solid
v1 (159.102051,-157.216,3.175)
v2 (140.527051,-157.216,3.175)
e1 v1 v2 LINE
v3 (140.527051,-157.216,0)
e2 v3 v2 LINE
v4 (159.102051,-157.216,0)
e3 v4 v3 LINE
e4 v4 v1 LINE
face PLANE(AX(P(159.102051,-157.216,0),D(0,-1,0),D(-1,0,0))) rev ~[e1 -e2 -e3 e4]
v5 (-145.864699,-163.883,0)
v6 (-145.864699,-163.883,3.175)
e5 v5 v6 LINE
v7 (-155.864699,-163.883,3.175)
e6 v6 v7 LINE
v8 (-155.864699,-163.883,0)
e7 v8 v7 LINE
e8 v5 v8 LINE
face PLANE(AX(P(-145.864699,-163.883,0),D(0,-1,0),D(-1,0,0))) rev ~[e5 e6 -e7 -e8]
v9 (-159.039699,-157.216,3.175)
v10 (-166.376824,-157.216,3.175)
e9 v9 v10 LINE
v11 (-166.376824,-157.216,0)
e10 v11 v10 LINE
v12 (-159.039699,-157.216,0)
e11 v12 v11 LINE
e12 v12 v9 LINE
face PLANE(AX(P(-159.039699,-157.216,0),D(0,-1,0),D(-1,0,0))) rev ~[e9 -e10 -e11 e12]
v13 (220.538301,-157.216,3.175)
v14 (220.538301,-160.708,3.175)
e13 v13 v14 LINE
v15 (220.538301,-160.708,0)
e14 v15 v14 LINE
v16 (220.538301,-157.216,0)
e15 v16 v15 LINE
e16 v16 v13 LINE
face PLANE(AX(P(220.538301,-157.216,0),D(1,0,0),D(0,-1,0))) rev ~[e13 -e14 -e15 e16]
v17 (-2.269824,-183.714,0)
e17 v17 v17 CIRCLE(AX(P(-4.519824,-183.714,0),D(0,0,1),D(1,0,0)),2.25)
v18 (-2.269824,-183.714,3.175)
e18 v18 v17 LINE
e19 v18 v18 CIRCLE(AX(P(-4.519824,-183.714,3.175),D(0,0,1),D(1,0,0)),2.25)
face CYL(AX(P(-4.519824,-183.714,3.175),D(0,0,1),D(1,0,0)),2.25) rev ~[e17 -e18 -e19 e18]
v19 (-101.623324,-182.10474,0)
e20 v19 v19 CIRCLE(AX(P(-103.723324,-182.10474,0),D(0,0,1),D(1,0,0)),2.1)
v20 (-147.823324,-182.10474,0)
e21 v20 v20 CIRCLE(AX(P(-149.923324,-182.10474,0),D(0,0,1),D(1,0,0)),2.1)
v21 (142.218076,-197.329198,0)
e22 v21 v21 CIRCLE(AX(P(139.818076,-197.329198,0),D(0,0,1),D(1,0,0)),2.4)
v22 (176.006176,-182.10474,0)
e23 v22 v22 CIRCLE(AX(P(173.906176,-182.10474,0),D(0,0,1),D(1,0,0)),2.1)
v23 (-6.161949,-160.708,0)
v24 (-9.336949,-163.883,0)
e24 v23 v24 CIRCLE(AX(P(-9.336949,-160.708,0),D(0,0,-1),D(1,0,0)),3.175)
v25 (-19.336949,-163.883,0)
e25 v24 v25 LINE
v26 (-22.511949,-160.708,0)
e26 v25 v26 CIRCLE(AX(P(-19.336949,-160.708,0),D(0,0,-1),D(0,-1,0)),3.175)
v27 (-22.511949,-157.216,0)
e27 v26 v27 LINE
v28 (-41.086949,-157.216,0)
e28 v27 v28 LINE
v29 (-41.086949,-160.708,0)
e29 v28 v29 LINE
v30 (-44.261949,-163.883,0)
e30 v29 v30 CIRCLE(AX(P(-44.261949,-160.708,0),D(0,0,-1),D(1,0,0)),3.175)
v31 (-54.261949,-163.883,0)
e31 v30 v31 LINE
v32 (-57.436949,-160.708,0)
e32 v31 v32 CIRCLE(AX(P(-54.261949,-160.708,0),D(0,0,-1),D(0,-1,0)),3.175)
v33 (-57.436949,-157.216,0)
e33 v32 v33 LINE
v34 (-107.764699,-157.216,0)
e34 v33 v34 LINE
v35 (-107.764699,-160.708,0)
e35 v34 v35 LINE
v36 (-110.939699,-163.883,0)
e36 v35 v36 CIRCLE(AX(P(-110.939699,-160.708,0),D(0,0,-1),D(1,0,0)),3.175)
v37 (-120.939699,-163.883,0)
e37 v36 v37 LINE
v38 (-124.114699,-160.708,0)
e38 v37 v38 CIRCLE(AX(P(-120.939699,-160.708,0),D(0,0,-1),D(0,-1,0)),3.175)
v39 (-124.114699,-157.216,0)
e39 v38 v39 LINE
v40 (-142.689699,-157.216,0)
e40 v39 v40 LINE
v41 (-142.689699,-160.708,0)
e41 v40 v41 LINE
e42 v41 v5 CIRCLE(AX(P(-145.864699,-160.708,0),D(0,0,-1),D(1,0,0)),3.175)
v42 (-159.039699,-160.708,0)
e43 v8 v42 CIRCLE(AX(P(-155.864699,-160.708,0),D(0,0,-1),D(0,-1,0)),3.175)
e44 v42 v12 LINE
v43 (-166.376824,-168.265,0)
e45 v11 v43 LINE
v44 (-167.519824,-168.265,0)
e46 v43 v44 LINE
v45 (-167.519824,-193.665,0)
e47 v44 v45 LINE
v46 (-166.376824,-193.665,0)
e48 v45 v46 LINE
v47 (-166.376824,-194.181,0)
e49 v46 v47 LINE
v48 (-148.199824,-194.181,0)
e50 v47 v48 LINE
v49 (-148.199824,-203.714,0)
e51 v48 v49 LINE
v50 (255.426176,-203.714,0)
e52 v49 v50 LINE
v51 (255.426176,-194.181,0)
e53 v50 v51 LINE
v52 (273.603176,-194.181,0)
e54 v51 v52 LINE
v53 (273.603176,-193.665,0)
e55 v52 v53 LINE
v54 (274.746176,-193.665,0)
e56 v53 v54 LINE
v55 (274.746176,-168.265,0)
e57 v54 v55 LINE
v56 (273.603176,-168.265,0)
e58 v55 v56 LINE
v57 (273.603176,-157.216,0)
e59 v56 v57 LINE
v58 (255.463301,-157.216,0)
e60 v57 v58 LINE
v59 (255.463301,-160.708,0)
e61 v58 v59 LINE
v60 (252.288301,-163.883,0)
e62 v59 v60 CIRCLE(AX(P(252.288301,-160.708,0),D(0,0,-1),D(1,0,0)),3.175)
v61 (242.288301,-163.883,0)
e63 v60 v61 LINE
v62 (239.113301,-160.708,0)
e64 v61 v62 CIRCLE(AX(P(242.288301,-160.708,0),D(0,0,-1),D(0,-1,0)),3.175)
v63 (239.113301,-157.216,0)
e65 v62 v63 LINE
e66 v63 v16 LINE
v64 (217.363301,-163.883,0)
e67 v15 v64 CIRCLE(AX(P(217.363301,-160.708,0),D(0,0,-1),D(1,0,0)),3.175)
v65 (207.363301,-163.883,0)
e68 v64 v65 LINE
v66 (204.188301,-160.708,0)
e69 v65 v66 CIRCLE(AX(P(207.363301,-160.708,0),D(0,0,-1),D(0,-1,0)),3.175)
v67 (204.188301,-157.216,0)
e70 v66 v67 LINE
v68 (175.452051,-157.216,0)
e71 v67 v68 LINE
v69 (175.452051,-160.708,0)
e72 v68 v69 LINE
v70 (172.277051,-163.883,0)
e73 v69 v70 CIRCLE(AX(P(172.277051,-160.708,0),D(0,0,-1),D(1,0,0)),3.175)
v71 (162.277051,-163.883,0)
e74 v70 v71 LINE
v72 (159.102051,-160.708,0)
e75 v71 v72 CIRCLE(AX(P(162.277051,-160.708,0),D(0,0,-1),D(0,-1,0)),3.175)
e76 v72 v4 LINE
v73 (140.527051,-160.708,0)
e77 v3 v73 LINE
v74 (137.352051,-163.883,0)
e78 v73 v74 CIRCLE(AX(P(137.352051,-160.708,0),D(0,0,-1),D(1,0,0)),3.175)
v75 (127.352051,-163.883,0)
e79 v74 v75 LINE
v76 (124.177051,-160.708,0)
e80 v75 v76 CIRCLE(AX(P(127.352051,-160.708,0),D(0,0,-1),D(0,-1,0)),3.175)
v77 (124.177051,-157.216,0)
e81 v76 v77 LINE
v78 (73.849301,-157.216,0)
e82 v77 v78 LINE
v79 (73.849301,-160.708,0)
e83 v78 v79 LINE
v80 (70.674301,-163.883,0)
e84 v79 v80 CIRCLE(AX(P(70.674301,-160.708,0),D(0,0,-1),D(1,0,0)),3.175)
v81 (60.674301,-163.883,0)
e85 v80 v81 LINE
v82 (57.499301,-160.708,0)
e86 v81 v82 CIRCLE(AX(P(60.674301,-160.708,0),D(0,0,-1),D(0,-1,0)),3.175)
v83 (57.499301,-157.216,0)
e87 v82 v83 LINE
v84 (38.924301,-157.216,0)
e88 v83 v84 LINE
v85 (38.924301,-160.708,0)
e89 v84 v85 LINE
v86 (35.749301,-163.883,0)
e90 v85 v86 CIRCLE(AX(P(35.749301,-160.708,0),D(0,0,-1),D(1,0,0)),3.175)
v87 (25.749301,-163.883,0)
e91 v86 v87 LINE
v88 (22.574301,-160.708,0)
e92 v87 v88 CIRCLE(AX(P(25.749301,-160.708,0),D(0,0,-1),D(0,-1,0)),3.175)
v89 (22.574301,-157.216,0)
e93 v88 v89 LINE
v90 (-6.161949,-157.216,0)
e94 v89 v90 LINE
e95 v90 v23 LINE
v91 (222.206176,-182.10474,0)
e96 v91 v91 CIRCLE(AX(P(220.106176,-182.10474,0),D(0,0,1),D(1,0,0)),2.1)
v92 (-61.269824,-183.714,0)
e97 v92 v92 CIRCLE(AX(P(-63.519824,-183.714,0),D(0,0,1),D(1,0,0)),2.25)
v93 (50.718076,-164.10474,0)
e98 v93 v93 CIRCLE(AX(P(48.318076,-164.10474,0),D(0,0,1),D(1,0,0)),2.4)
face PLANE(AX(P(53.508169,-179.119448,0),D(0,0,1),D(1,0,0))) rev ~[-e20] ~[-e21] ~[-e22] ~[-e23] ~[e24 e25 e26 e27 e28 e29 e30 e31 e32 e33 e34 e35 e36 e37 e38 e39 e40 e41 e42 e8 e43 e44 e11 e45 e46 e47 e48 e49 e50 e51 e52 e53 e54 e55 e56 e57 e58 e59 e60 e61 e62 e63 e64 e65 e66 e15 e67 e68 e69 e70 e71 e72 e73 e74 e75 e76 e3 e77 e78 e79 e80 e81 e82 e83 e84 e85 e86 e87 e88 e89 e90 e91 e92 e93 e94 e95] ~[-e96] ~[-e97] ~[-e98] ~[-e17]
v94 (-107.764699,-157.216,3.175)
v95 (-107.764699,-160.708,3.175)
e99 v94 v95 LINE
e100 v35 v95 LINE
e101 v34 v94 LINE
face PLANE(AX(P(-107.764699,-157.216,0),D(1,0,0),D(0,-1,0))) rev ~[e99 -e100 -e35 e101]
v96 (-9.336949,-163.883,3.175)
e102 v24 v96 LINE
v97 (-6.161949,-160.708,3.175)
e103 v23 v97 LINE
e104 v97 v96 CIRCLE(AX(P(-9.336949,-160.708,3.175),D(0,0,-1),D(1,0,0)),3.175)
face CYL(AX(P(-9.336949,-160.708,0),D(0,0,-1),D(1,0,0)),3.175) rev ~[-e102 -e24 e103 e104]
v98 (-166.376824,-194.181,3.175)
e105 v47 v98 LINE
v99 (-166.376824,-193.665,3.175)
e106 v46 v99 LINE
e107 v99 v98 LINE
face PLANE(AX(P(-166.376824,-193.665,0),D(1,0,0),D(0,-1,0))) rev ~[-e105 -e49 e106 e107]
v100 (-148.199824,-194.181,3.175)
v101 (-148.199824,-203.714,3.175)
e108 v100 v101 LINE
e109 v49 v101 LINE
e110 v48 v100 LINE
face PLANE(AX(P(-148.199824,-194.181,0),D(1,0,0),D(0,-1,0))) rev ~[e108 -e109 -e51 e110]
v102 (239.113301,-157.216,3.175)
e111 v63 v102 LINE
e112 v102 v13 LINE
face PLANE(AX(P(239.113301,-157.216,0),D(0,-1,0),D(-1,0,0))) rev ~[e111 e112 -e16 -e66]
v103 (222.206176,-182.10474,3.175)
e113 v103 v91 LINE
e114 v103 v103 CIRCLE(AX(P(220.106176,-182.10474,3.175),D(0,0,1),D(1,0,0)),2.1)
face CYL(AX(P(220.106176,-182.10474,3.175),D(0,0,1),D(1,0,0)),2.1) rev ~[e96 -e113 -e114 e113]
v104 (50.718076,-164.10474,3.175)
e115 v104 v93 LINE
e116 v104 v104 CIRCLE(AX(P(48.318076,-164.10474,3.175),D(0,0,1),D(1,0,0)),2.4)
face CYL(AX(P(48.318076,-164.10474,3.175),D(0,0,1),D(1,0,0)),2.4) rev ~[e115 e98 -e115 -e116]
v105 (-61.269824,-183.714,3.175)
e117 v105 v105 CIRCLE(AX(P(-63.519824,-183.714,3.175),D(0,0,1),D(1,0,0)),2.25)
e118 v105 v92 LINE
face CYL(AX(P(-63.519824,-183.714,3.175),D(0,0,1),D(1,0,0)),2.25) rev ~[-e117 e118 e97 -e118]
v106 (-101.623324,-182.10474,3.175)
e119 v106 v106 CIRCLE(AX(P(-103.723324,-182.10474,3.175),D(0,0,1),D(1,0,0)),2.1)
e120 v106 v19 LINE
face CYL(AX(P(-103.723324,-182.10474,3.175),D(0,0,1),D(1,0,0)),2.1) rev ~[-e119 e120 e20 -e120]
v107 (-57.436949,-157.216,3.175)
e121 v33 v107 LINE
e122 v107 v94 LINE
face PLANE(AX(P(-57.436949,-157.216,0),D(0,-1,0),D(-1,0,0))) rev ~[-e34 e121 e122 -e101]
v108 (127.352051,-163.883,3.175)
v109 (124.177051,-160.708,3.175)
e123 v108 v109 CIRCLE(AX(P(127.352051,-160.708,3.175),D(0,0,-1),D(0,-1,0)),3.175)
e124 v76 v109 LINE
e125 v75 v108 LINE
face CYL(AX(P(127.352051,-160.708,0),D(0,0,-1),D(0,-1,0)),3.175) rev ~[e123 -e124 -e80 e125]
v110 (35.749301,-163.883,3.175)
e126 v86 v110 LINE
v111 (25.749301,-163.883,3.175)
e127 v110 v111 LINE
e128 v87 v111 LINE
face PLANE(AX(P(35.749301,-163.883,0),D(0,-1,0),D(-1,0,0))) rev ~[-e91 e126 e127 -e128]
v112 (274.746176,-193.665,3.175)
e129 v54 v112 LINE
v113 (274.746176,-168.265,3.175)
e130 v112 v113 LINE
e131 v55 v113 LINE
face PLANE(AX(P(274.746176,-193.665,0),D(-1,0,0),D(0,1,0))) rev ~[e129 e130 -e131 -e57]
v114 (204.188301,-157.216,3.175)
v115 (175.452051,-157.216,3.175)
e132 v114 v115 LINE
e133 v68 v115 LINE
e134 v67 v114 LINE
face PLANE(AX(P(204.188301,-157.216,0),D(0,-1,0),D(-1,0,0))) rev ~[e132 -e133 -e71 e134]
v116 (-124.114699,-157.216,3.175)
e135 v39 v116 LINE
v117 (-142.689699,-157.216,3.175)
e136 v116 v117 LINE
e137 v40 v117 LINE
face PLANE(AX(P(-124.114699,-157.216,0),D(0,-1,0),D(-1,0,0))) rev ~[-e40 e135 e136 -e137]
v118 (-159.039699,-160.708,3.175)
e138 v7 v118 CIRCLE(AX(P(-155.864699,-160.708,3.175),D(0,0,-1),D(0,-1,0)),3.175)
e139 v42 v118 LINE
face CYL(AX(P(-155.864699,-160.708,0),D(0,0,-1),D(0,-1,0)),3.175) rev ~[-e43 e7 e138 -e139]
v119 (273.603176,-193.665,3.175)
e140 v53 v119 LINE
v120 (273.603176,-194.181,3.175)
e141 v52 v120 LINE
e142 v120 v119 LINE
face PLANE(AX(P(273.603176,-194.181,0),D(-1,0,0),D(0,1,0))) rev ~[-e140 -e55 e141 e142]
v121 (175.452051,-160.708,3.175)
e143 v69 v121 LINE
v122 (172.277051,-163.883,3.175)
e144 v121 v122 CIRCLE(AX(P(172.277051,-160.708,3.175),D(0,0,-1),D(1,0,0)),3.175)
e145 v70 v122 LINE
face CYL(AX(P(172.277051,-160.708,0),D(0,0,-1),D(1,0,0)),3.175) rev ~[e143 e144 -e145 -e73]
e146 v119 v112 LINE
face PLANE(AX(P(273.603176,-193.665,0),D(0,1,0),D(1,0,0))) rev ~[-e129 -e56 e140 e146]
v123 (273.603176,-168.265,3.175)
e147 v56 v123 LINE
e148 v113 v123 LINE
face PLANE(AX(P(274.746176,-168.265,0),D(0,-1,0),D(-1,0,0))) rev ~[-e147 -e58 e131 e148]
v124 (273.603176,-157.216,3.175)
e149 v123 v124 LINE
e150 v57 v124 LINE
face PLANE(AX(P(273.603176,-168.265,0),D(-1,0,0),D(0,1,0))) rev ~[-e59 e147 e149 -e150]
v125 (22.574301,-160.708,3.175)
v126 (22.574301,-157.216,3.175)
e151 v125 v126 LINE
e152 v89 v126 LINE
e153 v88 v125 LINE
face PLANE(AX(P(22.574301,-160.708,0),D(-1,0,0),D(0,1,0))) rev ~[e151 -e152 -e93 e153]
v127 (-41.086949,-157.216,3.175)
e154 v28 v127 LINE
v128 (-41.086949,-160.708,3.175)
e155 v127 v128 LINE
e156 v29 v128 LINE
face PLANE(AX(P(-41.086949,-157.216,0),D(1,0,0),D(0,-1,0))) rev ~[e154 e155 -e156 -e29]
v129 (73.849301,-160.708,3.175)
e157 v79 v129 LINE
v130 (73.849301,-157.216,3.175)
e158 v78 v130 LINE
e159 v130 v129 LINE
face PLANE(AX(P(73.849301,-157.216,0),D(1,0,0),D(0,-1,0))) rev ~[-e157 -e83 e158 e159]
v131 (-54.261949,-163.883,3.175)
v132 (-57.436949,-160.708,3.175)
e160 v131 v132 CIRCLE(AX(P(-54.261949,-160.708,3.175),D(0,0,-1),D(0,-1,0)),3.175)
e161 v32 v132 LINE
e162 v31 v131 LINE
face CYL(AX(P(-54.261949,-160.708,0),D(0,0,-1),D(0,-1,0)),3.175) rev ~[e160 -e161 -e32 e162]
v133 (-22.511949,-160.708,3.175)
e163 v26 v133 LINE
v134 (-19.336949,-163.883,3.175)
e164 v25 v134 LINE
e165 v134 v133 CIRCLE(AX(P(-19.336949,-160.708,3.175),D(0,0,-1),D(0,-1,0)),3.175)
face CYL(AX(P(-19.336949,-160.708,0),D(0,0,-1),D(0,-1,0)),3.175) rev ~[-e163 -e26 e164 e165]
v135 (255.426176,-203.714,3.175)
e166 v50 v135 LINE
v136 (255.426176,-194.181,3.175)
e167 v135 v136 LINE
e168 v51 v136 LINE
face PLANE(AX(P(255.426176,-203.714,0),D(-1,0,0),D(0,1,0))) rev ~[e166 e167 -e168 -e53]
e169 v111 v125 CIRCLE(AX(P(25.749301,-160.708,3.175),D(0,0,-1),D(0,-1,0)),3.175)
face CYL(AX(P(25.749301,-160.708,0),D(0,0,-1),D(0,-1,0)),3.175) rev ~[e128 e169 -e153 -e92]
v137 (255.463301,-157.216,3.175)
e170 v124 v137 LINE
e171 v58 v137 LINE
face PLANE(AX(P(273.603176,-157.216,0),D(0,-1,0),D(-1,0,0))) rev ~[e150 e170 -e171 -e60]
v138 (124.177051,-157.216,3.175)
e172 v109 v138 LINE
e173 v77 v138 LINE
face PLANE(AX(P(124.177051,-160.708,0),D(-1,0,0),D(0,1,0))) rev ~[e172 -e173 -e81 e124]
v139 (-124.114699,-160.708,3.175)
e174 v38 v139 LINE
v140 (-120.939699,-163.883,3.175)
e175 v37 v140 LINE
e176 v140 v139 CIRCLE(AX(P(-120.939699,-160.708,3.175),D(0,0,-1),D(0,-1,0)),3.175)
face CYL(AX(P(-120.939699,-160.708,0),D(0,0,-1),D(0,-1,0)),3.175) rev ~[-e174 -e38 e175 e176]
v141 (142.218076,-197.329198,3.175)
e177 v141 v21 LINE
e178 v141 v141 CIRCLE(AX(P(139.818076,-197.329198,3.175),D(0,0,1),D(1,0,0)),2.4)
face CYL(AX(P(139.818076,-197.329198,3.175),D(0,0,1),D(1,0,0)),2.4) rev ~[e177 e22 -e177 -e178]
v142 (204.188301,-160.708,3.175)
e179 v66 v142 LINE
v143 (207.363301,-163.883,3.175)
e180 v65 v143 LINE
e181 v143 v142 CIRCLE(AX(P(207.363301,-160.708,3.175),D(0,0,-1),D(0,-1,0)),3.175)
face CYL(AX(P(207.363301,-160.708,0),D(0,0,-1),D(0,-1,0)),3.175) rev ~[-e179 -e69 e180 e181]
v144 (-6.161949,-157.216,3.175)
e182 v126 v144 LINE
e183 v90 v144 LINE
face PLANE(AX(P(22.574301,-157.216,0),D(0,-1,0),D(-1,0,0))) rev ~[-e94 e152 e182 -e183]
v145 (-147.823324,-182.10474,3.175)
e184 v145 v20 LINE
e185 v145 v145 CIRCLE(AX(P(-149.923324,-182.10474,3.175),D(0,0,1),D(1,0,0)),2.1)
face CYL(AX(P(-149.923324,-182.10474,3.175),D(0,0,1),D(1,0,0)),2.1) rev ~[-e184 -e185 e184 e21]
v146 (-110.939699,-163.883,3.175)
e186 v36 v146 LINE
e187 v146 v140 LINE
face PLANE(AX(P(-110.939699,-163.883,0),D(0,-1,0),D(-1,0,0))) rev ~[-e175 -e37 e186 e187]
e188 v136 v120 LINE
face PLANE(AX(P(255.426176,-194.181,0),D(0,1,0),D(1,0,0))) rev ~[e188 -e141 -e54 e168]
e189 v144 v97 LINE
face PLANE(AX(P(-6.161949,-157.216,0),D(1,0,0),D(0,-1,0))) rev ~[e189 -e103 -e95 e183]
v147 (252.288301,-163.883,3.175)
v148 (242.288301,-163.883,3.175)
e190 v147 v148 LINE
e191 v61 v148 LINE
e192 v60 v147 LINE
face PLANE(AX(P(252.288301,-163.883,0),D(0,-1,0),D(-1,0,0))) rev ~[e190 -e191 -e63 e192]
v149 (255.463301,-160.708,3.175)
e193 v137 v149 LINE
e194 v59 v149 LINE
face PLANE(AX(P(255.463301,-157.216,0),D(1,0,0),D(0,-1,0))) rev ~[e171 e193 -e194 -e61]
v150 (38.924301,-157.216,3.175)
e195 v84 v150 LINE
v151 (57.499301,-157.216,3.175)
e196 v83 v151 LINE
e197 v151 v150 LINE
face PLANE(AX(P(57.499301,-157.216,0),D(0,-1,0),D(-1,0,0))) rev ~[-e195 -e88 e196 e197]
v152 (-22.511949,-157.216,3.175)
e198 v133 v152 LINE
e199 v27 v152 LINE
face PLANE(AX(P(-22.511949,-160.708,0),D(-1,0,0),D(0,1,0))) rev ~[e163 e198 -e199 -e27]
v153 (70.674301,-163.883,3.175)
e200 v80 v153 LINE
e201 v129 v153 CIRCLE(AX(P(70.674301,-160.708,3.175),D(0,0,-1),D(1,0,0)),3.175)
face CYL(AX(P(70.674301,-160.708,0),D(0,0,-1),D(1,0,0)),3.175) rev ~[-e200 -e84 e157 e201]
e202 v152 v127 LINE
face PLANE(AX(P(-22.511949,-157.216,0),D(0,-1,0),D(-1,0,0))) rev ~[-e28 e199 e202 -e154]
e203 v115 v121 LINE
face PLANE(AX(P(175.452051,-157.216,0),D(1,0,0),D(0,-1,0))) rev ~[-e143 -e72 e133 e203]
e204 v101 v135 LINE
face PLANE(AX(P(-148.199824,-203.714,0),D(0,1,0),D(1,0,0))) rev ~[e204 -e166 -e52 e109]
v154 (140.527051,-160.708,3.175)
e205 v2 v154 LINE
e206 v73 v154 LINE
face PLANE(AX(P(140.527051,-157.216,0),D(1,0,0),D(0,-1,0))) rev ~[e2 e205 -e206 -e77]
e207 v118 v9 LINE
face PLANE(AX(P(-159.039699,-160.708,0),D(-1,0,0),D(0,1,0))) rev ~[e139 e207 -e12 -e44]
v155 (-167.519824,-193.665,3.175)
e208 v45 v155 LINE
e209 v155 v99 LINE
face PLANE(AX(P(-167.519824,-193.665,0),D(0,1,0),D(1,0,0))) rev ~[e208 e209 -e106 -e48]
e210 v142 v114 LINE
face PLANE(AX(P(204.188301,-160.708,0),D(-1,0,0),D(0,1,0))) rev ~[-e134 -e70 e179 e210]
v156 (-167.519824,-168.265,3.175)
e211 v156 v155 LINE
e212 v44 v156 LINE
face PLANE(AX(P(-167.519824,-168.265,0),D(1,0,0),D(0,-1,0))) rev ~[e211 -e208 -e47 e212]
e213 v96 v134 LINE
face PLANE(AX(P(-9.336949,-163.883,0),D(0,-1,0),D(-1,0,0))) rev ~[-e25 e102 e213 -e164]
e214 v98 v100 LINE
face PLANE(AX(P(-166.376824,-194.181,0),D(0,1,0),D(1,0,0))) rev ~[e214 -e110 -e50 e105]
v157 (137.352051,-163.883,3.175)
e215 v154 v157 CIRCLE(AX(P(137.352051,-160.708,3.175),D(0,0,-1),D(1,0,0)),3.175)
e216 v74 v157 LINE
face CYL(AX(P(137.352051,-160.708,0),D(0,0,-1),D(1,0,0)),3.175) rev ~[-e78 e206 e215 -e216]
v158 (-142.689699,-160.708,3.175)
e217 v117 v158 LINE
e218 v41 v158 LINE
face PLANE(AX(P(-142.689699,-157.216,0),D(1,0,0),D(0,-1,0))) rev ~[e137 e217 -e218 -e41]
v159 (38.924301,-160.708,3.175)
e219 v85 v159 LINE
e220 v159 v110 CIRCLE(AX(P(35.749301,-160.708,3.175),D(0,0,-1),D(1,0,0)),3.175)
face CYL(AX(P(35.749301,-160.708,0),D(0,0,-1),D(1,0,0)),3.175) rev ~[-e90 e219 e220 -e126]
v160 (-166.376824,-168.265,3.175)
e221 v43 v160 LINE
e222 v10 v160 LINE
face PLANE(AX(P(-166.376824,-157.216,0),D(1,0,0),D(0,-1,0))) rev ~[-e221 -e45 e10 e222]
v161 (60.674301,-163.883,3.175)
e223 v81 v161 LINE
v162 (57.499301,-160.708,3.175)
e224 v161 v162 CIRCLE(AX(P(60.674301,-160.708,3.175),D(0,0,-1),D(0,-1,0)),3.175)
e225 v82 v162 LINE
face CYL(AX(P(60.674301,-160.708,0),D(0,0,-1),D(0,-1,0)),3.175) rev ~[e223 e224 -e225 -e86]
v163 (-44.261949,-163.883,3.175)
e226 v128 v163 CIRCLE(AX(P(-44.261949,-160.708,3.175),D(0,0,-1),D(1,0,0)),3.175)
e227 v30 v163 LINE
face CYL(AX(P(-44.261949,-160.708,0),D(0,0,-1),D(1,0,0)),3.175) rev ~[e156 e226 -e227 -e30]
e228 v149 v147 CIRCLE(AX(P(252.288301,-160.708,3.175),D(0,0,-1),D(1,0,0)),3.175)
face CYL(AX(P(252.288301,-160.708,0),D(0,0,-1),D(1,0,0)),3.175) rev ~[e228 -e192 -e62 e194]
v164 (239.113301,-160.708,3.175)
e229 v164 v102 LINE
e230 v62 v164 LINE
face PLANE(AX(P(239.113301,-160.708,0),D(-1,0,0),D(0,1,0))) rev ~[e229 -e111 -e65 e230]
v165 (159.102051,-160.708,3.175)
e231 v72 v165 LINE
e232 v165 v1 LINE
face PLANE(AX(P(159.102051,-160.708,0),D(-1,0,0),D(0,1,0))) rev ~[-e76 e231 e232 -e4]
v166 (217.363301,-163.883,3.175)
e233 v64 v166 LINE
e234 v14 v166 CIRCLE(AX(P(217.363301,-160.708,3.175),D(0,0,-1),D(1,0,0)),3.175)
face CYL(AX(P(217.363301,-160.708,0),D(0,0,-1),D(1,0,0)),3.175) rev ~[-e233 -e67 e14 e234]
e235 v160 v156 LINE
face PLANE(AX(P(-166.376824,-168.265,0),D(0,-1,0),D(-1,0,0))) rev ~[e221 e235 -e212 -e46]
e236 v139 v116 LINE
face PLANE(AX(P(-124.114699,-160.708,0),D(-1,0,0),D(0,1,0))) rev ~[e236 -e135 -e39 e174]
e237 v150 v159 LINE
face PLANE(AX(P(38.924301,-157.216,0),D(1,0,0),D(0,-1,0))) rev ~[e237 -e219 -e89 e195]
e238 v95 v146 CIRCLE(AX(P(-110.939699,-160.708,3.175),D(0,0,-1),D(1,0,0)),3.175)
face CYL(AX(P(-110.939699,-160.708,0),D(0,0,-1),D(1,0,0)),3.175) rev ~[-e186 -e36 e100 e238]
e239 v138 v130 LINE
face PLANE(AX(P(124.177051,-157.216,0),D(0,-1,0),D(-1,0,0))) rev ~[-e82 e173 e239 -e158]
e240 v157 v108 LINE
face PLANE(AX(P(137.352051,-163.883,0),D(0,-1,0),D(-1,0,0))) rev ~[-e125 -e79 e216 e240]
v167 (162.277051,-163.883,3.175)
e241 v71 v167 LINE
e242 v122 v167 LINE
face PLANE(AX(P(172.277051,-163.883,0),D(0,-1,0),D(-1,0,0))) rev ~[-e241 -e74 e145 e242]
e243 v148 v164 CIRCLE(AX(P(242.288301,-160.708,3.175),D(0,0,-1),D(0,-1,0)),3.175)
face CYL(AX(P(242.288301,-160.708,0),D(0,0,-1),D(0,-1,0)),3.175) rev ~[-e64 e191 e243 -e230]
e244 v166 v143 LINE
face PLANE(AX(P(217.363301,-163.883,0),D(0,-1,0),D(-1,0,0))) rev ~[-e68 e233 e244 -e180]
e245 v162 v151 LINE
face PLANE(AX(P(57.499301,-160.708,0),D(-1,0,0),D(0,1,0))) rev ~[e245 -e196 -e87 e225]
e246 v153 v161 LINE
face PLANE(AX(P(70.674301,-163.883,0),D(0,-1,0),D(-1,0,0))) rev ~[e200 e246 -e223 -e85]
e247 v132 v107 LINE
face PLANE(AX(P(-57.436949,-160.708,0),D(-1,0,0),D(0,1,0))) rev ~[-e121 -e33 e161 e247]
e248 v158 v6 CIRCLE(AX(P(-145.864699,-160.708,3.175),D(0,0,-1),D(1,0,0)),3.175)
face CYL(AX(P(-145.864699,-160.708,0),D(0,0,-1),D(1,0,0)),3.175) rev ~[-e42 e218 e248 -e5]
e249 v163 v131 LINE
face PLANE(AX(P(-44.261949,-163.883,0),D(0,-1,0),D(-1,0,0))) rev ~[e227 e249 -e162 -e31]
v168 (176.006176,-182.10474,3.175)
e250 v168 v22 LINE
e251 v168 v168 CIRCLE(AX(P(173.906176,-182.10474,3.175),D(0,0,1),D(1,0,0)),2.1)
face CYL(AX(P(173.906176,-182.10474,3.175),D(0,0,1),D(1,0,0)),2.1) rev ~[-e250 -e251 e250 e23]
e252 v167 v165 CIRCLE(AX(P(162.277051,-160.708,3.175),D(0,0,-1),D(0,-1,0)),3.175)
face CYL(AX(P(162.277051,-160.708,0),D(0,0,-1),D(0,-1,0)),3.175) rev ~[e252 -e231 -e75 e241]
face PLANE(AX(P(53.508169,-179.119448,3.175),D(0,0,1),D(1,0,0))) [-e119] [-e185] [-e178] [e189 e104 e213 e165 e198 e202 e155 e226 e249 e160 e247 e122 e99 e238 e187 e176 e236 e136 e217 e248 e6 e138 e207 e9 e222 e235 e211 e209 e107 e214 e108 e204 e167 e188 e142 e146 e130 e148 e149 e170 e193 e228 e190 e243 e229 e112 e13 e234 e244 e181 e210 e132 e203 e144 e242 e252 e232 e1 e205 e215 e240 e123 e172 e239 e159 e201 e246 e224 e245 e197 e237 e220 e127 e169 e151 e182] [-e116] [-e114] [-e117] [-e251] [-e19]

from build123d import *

# Parameters (mm, degrees)
BOSS_EXTRUDE1_DEPTH = 3.175
SKETCH4_R           = 2.1
SKETCH4_R_2         = 2.25
SKETCH4_R_3         = 2.4
CUT_EXTRUDE2_DEPTH  = 343.045224939


with BuildPart() as part:
    # Sketch2 → Boss-Extrude1 (new body)
    with BuildSketch(Plane.XY):
        with BuildLine():
            Line((-166.376823509, -157.21600002), (-166.376823509, -167.12200002))
            Line((-166.376823509, -167.12200002), (-166.376823509, -168.26500002))
            Line((-166.376823509, -168.26500002), (-167.519823509, -168.26500002))
            Line((-167.519823509, -168.26500002), (-167.519823509, -187.31500002))
            Line((-167.519823509, -187.31500002), (-167.519823509, -193.66500002))
            Line((-167.519823509, -193.66500002), (-166.376823509, -193.66500002))
            Line((-166.376823509, -193.66500002), (-166.376823509, -194.18100002))
            Line((-166.376823509, -194.18100002), (-148.199823509, -194.18100002))
            Line((-148.199823509, -194.18100002), (-148.199823509, -203.71400002))
            Line((-148.199823509, -203.71400002), (255.426176451, -203.71400002))
            Line((255.426176451, -203.71400002), (255.426176451, -194.18100002))
            Line((255.426176451, -194.18100002), (273.603176451, -194.18100002))
            Line((273.603176451, -194.18100002), (273.603176451, -193.66500002))
            Line((273.603176451, -193.66500002), (274.746176451, -193.66500002))
            Line((274.746176451, -193.66500002), (274.746176451, -174.61500002))
            Line((274.746176451, -174.61500002), (274.746176451, -168.26500002))
            Line((274.746176451, -168.26500002), (273.603176451, -168.26500002))
            Line((273.603176451, -168.26500002), (273.603176451, -167.12200002))
            Line((273.603176451, -167.12200002), (273.603176451, -157.21600002))
            Line((273.603176451, -157.21600002), (255.463301471, -157.21600002))
            Line((255.463301471, -157.21600002), (255.463301471, -160.70800002))
            ThreePointArc((255.463301471, -160.70800002), (254.533365501, -162.95306405), (252.288301471, -163.88300002))
            Line((252.288301471, -163.88300002), (242.288301471, -163.88300002))
            ThreePointArc((242.288301471, -163.88300002), (240.04323744, -162.95306405), (239.113301471, -160.70800002))
            Line((239.113301471, -160.70800002), (239.113301471, -157.21600002))
            Line((239.113301471, -157.21600002), (220.538301471, -157.21600002))
            Line((220.538301471, -157.21600002), (220.538301471, -160.70800002))
            ThreePointArc((220.538301471, -160.70800002), (219.608365501, -162.95306405), (217.363301471, -163.88300002))
            Line((217.363301471, -163.88300002), (207.363301471, -163.88300002))
            ThreePointArc((207.363301471, -163.88300002), (205.11823744, -162.95306405), (204.188301471, -160.70800002))
            Line((204.188301471, -160.70800002), (204.188301471, -157.21600002))
            Line((204.188301471, -157.21600002), (175.452051471, -157.21600002))
            Line((175.452051471, -157.21600002), (175.452051471, -160.70800002))
            ThreePointArc((175.452051471, -160.70800002), (174.522115501, -162.95306405), (172.277051471, -163.88300002))
            Line((172.277051471, -163.88300002), (162.277051471, -163.88300002))
            ThreePointArc((162.277051471, -163.88300002), (160.03198744, -162.95306405), (159.102051471, -160.70800002))
            Line((159.102051471, -160.70800002), (159.102051471, -157.21600002))
            Line((159.102051471, -157.21600002), (140.527051471, -157.21600002))
            Line((140.527051471, -157.21600002), (140.527051471, -160.70800002))
            ThreePointArc((140.527051471, -160.70800002), (139.597115501, -162.95306405), (137.352051471, -163.88300002))
            Line((137.352051471, -163.88300002), (127.352051471, -163.88300002))
            ThreePointArc((127.352051471, -163.88300002), (125.10698744, -162.95306405), (124.177051471, -160.70800002))
            Line((124.177051471, -160.70800002), (124.177051471, -157.21600002))
            Line((124.177051471, -157.21600002), (73.849301471, -157.21600002))
            Line((73.849301471, -157.21600002), (73.849301471, -160.70800002))
            ThreePointArc((73.849301471, -160.70800002), (72.919365501, -162.95306405), (70.674301471, -163.88300002))
            Line((70.674301471, -163.88300002), (60.674301471, -163.88300002))
            ThreePointArc((60.674301471, -163.88300002), (58.42923744, -162.95306405), (57.499301471, -160.70800002))
            Line((57.499301471, -160.70800002), (57.499301471, -157.21600002))
            Line((57.499301471, -157.21600002), (38.924301471, -157.21600002))
            Line((38.924301471, -157.21600002), (38.924301471, -160.70800002))
            ThreePointArc((38.924301471, -160.70800002), (37.994365501, -162.95306405), (35.749301471, -163.88300002))
            Line((35.749301471, -163.88300002), (25.749301471, -163.88300002))
            ThreePointArc((25.749301471, -163.88300002), (23.50423744, -162.95306405), (22.574301471, -160.70800002))
            Line((22.574301471, -160.70800002), (22.574301471, -157.21600002))
            Line((22.574301471, -157.21600002), (-6.161948529, -157.21600002))
            Line((-6.161948529, -157.21600002), (-6.161948529, -160.70800002))
            ThreePointArc((-6.161948529, -160.70800002), (-7.091884499, -162.95306405), (-9.336948529, -163.88300002))
            Line((-9.336948529, -163.88300002), (-19.336948529, -163.88300002))
            ThreePointArc((-19.336948529, -163.88300002), (-21.58201256, -162.95306405), (-22.511948529, -160.70800002))
            Line((-22.511948529, -160.70800002), (-22.511948529, -157.21600002))
            Line((-22.511948529, -157.21600002), (-41.086948529, -157.21600002))
            Line((-41.086948529, -157.21600002), (-41.086948529, -160.70800002))
            ThreePointArc((-41.086948529, -160.70800002), (-42.016884499, -162.95306405), (-44.261948529, -163.88300002))
            Line((-44.261948529, -163.88300002), (-54.261948529, -163.88300002))
            ThreePointArc((-54.261948529, -163.88300002), (-56.50701256, -162.95306405), (-57.436948529, -160.70800002))
            Line((-57.436948529, -160.70800002), (-57.436948529, -157.21600002))
            Line((-57.436948529, -157.21600002), (-107.764698529, -157.21600002))
            Line((-107.764698529, -157.21600002), (-107.764698529, -160.70800002))
            ThreePointArc((-107.764698529, -160.70800002), (-108.694634499, -162.95306405), (-110.939698529, -163.88300002))
            Line((-110.939698529, -163.88300002), (-120.939698529, -163.88300002))
            ThreePointArc((-120.939698529, -163.88300002), (-123.18476256, -162.95306405), (-124.114698529, -160.70800002))
            Line((-124.114698529, -160.70800002), (-124.114698529, -157.21600002))
            Line((-124.114698529, -157.21600002), (-142.689698529, -157.21600002))
            Line((-142.689698529, -157.21600002), (-142.689698529, -160.70800002))
            ThreePointArc((-142.689698529, -160.70800002), (-143.619634499, -162.95306405), (-145.864698529, -163.88300002))
            Line((-145.864698529, -163.88300002), (-155.864698529, -163.88300002))
            ThreePointArc((-155.864698529, -163.88300002), (-158.10976256, -162.95306405), (-159.039698529, -160.70800002))
            Line((-159.039698529, -160.70800002), (-159.039698529, -157.21600002))
            Line((-159.039698529, -157.21600002), (-166.376823509, -157.21600002))
        make_face()
    extrude(amount=BOSS_EXTRUDE1_DEPTH)

    # Sketch4 → Cut-Extrude2 (cut, through all)
    with BuildSketch(Plane.XY.offset(3.175)):
        with Locations((220.106176451, -182.10474)):
            Circle(SKETCH4_R)
        with Locations((173.906176451, -182.10474)):
            Circle(SKETCH4_R)
        with Locations((-4.519823509, -183.71400002)):
            Circle(SKETCH4_R_2)
        with Locations((-63.519823509, -183.71400002)):
            Circle(SKETCH4_R_2)
        with Locations((-103.723323529, -182.10474)):
            Circle(SKETCH4_R)
        with Locations((-149.923323529, -182.10474)):
            Circle(SKETCH4_R)
        with Locations((48.318076451, -164.10474)):
            Circle(SKETCH4_R_3)
        with Locations((139.818076451, -197.329197785)):
            Circle(SKETCH4_R_3)
    extrude(amount=-CUT_EXTRUDE2_DEPTH, mode=Mode.SUBTRACT)


solid = part.part
